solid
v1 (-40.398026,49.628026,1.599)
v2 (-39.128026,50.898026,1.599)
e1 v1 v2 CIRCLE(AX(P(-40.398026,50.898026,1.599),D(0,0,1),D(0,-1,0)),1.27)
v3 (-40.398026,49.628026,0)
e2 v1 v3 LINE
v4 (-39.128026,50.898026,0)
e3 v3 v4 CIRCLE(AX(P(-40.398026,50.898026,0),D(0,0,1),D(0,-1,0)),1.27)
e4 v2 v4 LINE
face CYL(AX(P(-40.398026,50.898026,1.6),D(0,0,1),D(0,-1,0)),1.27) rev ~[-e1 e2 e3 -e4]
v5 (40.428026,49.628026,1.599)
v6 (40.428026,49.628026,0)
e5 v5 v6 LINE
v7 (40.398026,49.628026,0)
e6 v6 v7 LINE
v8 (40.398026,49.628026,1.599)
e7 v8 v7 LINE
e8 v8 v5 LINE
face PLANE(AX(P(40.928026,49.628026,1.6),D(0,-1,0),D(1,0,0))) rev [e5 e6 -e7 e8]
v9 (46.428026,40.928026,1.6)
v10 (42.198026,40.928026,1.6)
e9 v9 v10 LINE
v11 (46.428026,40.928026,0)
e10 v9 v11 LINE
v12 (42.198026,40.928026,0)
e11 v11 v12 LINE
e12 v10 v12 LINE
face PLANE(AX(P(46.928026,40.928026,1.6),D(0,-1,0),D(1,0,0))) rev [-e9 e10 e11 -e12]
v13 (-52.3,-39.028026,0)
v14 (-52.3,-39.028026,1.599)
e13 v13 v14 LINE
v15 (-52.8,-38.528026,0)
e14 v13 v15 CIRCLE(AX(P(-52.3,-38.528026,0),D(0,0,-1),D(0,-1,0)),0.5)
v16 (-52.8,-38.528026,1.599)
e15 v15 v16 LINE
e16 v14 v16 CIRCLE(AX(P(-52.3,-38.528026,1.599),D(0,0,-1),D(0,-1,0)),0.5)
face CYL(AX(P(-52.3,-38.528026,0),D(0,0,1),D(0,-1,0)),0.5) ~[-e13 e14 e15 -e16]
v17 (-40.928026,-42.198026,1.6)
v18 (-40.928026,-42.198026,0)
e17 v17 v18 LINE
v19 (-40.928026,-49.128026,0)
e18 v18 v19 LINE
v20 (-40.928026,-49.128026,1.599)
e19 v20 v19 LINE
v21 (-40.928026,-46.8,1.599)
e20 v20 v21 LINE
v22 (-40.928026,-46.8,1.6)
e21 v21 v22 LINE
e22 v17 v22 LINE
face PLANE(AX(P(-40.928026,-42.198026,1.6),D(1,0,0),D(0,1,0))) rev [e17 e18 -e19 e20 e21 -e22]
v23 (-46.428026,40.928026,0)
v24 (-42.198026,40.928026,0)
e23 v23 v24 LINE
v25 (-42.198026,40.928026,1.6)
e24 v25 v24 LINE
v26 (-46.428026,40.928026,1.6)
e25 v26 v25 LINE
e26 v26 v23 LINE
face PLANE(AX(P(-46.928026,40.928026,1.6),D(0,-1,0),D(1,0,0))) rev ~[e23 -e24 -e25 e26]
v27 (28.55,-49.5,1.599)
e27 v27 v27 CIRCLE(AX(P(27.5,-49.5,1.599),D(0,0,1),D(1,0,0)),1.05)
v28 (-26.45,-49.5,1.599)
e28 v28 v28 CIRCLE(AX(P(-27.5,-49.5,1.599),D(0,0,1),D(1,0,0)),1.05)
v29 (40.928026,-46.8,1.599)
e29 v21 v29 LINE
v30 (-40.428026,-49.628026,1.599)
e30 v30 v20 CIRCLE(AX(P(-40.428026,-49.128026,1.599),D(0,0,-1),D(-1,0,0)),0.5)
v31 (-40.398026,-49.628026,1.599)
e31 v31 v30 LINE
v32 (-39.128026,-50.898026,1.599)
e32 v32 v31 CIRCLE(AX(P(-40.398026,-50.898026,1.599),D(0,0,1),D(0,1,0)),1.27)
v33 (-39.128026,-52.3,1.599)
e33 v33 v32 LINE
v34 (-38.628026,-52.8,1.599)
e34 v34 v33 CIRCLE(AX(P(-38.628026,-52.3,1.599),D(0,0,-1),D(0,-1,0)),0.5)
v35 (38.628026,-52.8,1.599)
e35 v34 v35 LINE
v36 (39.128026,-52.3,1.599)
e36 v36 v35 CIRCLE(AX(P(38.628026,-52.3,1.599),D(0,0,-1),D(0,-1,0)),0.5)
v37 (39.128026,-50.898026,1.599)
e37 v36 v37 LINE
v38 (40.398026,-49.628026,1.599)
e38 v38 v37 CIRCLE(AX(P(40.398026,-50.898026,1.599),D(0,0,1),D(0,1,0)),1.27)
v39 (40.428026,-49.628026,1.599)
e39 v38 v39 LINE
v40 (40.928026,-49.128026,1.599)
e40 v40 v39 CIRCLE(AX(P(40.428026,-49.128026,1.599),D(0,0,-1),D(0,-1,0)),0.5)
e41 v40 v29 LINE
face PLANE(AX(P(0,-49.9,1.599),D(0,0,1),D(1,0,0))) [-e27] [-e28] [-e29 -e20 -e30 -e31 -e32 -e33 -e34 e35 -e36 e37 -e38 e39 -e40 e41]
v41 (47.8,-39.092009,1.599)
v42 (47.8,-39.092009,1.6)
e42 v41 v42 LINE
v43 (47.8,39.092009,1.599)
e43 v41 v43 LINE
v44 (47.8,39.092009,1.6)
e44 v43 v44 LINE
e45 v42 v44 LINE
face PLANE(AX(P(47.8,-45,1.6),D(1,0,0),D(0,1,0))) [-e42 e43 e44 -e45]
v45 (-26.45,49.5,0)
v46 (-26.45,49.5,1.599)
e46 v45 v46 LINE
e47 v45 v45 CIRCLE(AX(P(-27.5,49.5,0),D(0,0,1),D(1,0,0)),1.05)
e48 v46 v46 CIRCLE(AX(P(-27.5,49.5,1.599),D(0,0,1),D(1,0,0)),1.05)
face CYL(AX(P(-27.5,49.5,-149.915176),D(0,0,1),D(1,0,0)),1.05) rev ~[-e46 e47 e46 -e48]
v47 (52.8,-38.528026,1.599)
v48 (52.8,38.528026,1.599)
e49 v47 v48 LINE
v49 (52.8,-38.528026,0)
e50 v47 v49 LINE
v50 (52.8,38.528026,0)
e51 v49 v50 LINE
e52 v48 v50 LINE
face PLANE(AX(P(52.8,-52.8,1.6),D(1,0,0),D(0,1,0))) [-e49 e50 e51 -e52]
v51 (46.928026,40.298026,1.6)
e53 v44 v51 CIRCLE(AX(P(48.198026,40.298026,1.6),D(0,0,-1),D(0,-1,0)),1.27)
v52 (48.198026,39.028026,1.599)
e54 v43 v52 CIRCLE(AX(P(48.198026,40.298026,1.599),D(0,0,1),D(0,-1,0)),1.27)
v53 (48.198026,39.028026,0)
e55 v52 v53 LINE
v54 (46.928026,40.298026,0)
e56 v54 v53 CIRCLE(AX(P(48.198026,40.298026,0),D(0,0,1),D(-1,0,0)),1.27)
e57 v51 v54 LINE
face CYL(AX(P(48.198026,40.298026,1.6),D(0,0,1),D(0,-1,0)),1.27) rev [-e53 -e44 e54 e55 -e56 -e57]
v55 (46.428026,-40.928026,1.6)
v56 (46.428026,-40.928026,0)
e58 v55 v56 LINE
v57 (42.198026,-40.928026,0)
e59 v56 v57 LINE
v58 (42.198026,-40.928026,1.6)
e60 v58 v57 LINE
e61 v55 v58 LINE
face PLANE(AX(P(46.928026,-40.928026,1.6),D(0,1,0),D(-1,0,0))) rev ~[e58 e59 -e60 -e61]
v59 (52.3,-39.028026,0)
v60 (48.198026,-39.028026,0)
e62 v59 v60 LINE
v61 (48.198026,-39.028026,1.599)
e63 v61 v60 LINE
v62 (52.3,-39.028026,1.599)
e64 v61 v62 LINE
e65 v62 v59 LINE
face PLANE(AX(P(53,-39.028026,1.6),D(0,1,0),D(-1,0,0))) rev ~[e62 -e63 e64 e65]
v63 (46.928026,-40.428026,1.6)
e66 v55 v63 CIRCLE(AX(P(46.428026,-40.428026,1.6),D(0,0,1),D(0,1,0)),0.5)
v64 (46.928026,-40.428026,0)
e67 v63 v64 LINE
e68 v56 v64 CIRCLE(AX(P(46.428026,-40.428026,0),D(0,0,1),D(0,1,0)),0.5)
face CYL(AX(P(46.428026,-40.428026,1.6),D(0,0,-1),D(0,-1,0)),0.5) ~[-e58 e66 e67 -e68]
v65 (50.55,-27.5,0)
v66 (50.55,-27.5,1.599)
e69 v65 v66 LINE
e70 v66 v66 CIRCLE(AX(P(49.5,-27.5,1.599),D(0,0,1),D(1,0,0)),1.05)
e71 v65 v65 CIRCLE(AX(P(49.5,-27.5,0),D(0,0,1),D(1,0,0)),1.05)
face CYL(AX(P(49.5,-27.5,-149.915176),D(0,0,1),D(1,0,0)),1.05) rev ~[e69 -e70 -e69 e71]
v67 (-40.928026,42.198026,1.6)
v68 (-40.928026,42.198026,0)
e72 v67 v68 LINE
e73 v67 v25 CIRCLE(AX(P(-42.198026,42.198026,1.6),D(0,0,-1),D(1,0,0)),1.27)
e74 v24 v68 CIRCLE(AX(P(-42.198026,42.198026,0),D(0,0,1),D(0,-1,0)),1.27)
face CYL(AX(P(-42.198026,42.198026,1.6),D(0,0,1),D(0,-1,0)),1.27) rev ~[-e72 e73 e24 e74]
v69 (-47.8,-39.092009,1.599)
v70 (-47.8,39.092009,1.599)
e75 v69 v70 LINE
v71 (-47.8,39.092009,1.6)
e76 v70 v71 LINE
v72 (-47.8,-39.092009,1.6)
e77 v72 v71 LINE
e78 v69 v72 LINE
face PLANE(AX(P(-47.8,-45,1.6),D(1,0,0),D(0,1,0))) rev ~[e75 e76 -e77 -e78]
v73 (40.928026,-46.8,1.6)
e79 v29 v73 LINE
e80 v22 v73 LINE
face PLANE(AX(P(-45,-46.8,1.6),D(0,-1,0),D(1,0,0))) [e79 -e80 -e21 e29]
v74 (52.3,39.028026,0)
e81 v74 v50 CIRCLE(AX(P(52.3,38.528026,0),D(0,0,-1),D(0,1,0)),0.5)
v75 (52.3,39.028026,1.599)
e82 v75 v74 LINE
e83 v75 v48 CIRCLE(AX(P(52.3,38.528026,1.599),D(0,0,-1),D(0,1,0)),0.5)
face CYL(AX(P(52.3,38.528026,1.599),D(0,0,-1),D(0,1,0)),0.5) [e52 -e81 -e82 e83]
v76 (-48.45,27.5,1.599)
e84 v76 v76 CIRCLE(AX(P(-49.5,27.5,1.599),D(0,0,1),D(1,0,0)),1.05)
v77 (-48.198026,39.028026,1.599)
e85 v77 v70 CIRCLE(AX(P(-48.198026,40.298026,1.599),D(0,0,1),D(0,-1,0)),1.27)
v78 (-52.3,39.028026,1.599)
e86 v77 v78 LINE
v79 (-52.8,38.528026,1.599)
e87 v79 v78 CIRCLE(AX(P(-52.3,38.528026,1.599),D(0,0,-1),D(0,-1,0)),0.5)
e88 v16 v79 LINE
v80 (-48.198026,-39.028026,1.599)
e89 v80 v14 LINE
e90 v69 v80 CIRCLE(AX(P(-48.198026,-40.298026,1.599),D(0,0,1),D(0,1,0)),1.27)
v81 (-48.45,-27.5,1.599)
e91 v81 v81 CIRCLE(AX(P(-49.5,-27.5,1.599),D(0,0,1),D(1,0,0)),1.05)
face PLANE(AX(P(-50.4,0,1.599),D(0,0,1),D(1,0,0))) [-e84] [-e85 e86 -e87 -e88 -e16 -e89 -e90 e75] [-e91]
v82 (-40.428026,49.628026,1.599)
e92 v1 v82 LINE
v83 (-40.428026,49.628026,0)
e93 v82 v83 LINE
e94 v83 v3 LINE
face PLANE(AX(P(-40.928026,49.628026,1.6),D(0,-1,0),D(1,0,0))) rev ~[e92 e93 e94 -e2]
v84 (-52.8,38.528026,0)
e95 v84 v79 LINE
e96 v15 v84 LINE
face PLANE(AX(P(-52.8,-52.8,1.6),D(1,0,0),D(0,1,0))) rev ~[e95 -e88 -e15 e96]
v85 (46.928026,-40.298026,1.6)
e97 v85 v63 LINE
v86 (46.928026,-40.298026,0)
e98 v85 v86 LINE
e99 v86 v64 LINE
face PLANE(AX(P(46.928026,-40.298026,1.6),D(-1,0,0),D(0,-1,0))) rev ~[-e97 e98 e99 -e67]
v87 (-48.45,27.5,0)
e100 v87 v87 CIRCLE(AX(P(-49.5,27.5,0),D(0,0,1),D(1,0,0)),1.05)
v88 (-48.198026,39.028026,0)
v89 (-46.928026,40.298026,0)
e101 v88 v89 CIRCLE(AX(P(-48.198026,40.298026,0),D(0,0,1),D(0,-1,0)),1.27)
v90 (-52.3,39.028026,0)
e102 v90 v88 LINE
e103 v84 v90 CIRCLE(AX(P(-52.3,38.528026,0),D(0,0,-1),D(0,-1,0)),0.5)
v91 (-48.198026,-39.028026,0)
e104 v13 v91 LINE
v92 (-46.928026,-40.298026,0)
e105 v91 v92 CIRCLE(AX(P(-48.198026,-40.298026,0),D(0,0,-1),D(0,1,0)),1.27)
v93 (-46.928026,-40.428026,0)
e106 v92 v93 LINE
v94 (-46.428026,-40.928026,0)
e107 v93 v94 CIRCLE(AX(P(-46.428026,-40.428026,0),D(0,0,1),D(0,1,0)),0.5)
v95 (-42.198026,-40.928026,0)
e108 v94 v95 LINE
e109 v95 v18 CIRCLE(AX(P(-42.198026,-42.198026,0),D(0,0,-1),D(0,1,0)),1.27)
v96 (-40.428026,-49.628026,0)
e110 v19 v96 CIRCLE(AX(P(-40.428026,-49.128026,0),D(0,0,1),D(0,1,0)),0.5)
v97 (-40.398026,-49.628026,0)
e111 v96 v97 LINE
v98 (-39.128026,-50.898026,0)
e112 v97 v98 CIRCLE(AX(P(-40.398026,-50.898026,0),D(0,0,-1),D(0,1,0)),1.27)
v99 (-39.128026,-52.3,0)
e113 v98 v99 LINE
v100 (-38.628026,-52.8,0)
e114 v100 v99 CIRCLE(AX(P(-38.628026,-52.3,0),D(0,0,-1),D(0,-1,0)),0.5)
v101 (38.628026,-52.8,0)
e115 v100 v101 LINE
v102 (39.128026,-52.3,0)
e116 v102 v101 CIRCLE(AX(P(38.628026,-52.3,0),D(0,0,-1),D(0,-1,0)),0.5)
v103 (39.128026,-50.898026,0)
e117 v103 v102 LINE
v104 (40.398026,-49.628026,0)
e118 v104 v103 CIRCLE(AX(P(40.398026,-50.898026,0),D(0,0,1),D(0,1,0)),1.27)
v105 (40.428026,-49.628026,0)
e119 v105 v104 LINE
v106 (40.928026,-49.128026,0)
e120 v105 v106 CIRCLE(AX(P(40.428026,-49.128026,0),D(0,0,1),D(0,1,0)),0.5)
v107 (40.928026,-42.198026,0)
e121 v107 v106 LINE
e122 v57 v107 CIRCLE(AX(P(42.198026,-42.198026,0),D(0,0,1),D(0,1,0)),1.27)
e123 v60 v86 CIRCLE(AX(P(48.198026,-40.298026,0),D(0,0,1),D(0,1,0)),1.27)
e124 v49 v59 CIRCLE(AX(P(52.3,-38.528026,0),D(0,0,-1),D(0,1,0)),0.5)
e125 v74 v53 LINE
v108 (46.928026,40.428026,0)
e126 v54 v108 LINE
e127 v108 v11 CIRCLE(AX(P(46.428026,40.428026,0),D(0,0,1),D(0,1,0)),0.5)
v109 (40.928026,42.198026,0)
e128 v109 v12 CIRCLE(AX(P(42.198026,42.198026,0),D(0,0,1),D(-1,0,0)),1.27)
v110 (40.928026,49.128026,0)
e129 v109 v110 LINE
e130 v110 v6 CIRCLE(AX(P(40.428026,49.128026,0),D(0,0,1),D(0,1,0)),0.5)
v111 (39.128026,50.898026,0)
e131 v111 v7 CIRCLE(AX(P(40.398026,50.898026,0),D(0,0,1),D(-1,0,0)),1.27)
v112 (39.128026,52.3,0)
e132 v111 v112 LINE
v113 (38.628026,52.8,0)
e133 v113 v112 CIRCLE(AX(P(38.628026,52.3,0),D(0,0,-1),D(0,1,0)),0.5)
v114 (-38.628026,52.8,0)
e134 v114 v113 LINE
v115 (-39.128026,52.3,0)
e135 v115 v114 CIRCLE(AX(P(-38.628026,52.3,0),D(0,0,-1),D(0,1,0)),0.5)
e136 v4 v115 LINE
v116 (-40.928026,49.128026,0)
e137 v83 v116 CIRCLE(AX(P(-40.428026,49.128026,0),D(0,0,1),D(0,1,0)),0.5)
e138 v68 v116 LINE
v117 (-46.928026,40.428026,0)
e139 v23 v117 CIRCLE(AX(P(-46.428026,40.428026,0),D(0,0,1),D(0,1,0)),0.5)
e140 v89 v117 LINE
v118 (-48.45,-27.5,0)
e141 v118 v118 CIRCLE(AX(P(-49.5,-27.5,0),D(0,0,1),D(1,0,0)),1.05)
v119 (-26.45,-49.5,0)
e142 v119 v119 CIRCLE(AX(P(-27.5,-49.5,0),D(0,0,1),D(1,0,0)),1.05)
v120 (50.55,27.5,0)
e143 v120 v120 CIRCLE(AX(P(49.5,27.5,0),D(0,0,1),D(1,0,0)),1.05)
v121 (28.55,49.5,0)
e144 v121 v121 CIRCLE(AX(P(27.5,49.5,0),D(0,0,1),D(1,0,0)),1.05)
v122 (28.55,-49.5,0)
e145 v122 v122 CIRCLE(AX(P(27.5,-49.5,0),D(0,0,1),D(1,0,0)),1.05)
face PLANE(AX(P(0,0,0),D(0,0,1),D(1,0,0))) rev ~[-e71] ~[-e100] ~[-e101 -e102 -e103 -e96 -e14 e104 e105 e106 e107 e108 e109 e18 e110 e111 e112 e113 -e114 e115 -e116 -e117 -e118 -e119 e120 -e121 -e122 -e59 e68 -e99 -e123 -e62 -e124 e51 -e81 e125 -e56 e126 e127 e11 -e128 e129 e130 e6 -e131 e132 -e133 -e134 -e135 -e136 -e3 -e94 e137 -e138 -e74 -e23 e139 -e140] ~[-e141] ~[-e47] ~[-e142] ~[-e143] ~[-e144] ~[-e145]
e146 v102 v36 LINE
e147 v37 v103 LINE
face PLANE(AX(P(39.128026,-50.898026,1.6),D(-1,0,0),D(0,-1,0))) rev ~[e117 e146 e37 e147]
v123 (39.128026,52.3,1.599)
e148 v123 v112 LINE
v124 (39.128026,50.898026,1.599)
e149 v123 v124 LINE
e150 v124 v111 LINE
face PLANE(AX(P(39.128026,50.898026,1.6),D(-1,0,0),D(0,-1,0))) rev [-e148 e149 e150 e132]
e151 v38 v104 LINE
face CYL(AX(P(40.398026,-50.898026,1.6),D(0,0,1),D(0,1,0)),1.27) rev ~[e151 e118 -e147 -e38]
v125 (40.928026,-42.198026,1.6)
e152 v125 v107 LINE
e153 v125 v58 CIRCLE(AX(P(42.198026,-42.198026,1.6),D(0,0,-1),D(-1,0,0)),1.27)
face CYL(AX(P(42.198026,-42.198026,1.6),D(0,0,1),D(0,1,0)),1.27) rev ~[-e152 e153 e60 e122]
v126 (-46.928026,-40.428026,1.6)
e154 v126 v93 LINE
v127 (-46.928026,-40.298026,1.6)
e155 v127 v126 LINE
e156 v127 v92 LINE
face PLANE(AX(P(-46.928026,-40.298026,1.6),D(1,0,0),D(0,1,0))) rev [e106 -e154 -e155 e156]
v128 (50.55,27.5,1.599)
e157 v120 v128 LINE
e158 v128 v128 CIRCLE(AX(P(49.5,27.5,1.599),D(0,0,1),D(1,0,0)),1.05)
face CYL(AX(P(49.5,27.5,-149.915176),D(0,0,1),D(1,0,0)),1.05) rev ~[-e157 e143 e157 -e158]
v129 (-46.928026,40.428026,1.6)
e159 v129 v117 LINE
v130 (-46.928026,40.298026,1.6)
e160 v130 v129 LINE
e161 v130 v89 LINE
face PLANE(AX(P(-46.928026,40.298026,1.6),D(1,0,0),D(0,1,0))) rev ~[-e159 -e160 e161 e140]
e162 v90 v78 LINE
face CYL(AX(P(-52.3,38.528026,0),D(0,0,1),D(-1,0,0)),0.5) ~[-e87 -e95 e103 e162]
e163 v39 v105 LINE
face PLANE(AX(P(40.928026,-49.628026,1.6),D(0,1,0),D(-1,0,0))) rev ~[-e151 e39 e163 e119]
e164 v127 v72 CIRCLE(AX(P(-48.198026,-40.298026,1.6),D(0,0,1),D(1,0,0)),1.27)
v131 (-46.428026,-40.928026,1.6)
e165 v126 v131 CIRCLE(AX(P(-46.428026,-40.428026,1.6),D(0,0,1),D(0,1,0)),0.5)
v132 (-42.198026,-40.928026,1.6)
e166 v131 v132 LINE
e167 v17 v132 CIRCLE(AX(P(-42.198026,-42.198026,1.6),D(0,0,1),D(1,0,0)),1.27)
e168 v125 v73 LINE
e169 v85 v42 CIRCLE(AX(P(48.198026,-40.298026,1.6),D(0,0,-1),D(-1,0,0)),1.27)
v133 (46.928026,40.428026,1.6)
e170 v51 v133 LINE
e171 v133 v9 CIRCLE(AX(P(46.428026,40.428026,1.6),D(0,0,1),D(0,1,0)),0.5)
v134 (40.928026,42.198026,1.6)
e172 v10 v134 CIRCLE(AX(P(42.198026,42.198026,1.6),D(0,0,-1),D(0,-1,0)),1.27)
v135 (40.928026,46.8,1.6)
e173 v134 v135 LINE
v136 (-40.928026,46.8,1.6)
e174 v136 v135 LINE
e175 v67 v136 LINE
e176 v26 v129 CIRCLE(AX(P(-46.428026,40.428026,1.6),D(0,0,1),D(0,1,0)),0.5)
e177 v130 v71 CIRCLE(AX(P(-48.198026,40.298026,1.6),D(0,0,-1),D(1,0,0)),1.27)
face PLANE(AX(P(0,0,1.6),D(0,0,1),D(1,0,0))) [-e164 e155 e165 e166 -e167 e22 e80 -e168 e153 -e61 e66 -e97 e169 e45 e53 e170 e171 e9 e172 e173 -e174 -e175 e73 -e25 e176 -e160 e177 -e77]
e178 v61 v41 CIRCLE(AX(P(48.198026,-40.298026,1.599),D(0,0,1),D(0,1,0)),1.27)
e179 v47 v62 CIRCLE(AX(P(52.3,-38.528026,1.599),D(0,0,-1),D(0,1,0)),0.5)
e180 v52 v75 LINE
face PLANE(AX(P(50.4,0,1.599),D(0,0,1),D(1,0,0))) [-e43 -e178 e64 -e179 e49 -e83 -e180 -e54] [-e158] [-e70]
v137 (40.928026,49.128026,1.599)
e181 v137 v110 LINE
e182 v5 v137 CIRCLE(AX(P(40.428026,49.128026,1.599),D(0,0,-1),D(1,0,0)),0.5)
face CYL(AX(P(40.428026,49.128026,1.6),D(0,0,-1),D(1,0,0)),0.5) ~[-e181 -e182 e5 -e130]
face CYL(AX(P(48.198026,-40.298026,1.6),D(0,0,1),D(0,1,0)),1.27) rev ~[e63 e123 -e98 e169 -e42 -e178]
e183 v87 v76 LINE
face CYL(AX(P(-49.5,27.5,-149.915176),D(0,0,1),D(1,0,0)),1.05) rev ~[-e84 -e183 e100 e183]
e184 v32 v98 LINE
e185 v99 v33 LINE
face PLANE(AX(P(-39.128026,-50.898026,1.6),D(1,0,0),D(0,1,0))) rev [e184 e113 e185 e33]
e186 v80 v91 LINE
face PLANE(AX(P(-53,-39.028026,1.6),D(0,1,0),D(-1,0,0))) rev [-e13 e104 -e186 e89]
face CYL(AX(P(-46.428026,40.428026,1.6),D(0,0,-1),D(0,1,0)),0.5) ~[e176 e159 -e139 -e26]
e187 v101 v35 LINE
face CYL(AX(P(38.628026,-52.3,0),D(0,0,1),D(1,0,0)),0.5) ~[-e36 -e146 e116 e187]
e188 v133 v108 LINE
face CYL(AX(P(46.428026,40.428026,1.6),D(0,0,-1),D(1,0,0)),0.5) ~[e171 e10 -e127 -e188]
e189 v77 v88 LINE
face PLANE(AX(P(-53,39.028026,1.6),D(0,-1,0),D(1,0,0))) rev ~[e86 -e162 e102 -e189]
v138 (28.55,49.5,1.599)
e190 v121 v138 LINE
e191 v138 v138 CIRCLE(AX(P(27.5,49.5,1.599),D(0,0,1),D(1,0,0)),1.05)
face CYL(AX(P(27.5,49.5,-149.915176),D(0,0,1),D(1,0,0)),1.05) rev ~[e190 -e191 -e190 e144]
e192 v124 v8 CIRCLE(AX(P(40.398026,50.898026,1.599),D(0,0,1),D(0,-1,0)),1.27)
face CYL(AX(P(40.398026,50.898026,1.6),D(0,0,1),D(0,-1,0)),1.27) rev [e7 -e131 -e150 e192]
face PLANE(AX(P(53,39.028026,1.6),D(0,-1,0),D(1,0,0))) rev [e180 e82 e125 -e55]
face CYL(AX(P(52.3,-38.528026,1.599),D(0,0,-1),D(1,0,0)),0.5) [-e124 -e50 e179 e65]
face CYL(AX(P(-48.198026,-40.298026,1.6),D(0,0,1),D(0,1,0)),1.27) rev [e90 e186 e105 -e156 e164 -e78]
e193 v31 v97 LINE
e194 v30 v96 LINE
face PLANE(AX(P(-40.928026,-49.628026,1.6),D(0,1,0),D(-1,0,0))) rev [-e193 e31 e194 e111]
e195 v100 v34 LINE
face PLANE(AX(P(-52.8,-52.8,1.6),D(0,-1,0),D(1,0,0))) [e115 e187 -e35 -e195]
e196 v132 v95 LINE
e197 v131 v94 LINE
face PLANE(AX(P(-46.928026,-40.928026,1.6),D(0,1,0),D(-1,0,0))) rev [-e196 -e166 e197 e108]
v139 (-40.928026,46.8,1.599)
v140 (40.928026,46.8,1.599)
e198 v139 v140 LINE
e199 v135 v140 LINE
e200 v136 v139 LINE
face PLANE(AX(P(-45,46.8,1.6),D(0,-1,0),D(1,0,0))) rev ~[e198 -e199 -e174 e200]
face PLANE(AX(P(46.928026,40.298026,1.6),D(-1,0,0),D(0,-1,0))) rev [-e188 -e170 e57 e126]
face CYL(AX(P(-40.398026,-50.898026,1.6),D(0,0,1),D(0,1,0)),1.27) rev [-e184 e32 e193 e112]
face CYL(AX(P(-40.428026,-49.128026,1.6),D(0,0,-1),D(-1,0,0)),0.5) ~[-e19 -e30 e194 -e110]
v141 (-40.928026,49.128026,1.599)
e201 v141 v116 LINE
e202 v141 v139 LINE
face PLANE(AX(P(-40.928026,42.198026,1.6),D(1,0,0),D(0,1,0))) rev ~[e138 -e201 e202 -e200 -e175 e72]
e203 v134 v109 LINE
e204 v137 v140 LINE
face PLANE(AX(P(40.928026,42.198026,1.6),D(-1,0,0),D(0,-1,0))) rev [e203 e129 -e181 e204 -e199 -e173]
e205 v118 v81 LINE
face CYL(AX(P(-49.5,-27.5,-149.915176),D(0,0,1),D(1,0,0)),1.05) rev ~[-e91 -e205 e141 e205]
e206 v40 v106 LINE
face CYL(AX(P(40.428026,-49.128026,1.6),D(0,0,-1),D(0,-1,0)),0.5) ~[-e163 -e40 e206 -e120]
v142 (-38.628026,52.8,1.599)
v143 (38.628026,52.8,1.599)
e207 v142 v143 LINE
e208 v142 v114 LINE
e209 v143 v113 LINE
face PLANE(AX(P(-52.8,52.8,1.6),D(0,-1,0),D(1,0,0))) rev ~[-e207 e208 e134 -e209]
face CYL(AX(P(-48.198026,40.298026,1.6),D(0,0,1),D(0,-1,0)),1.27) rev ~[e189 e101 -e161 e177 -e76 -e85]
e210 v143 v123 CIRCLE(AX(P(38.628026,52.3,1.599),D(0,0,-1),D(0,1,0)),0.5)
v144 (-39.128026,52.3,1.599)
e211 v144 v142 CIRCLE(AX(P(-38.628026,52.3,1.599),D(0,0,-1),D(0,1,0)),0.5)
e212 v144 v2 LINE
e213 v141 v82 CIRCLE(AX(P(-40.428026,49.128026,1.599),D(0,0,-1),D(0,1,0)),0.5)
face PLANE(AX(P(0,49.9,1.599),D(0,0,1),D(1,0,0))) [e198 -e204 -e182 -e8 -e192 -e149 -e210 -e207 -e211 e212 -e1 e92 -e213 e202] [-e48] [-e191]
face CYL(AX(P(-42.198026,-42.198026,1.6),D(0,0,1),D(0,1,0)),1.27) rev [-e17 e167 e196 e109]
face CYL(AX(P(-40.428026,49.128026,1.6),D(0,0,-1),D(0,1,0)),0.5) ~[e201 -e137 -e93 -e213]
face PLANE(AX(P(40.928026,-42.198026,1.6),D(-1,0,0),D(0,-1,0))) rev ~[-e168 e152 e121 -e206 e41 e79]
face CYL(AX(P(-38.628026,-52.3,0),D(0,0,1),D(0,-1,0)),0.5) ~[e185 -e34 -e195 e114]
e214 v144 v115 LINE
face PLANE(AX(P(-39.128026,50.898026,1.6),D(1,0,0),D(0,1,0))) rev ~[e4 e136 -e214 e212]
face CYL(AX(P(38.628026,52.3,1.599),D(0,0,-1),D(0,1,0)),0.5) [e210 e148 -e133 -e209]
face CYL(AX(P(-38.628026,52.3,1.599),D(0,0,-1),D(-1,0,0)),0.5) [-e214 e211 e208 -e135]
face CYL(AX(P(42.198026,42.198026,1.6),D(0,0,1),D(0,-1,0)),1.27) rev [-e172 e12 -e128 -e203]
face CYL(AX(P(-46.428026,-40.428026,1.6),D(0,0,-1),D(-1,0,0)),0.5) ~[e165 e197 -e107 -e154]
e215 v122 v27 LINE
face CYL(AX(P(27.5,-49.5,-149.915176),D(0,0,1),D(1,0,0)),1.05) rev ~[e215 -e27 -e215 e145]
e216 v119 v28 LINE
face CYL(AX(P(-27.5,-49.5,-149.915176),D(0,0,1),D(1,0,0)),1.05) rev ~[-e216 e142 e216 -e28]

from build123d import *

# Parameters (mm, degrees)
SKETCH1_W                 = 106
SKETCH1_H                 = 106
MAINOUTLINE_DEPTH         = 1.6
SKETCH4_W                 = 11.7
SKETCH4_H                 = 11.7
RAILCUTOUTS_DEPTH         = 2.6
FILLETCUTOUTS_START       = -2.6
SKETCH13_W                = 5.7
SKETCH13_H                = 1.9
SKETCH13_W_2              = 1.8
SKETCH13_H_2              = 3
FILLETCUTOUTS_DEPTH       = 3.6
SMOOTHCORNER_DEPTH        = 10
MIRROR2_COPY_1_SKETCH_W   = 11.7
MIRROR2_COPY_1_SKETCH_H   = 11.7
MIRROR2_COPY_1_DEPTH      = 2.6
MIRROR2_START             = -2.6
MIRROR2_COPY_2_SKETCH_W   = 5.7
MIRROR2_COPY_2_SKETCH_H   = 1.9
MIRROR2_COPY_2_SKETCH_W_2 = 1.8
MIRROR2_COPY_2_SKETCH_H_2 = 3
MIRROR2_COPY_2_DEPTH      = 3.6
MIRROR2_COPY_3_DEPTH      = 10
MIRROR2_COPY_4_SKETCH_W   = 11.7
MIRROR2_COPY_4_SKETCH_H   = 11.7
MIRROR2_COPY_4_DEPTH      = 2.6
MIRROR2_COPY_5_SKETCH_W   = 5.7
MIRROR2_COPY_5_SKETCH_H   = 1.9
MIRROR2_COPY_5_SKETCH_W_2 = 1.8
MIRROR2_COPY_5_SKETCH_H_2 = 3
MIRROR2_COPY_5_DEPTH      = 3.6
FILLET10_R                = 0.5
M2_CLEARANCE_HOLE1_D      = 2.1
SKETCH16_W                = 90
SKETCH16_H                = 6.2
SKETCH16_W_2              = 5.2
SKETCH16_H_2              = 90
CUT_EXTRUDE6_DEPTH        = 0.001
SKETCH24_OUTSIDE_W        = 137.984
SKETCH24_OUTSIDE_H        = 137.984
SKETCH24_OUTSIDE_W_2      = 105.6
SKETCH24_OUTSIDE_H_2      = 105.6
CUT_EXTRUDE19_DEPTH       = 2.6
FILLET7_R                 = 0.5


with BuildPart() as part:
    # Sketch1 → mainOutline (new body)
    with BuildSketch(Plane.XY):
        Rectangle(SKETCH1_W, SKETCH1_H)
    extrude(amount=MAINOUTLINE_DEPTH)

    # Sketch4 → railCutouts (cut, through all)
    with BuildSketch(Plane(origin=(0, 0, 0), x_dir=(-1, 0, 0), z_dir=(0, 0, -1))):
        with Locations((47.15, 47.15)):
            Rectangle(SKETCH4_W, SKETCH4_H)
    railcutouts = extrude(amount=-RAILCUTOUTS_DEPTH, mode=Mode.SUBTRACT)

    # Sketch13 → filletCutouts (cut)
    with BuildSketch(Plane(origin=(0, 0, 0), x_dir=(-1, 0, 0), z_dir=(0, 0, -1)).offset(FILLETCUTOUTS_START)):
        with Locations((50.15, 40.35)):
            Rectangle(SKETCH13_W, SKETCH13_H)
        with Locations((40.4, 51.5)):
            Rectangle(SKETCH13_W_2, SKETCH13_H_2)
    filletcutouts = extrude(amount=FILLETCUTOUTS_DEPTH, mode=Mode.SUBTRACT)

    # Sketch27 → smoothCorner (cut)
    with BuildSketch(Plane.XY.offset(1.6)):
        with BuildLine():
            Line((-40.928025612, 42.198025612), (-40.928025612, 49.628025612))
            Line((-40.928025612, 49.628025612), (-40.398025612, 49.628025612))
            ThreePointArc((-40.398025612, 49.628025612), (-39.5, 50), (-39.128025612, 50.898025612))
            Line((-39.128025612, 50.898025612), (-39.128025612, 53))
            Line((-39.128025612, 53), (-53, 53))
            Line((-53, 53), (-53, 39.028025612))
            Line((-53, 39.028025612), (-48.198025612, 39.028025612))
            ThreePointArc((-48.198025612, 39.028025612), (-47.3, 39.4), (-46.928025612, 40.298025612))
            Line((-46.928025612, 40.298025612), (-46.928025612, 40.928025612))
            Line((-46.928025612, 40.928025612), (-42.198025612, 40.928025612))
            ThreePointArc((-42.198025612, 40.928025612), (-41.3, 41.3), (-40.928025612, 42.198025612))
        make_face()
    smoothcorner = extrude(amount=-SMOOTHCORNER_DEPTH, mode=Mode.SUBTRACT)

    # Mirror1: railCutouts, filletCutouts, smoothCorner across plane
    add(railcutouts.mirror(Plane(origin=(0, 0, 0), x_dir=(0, 0, 1), z_dir=(1, 0, 0))), mode=Mode.SUBTRACT)
    add(filletcutouts.mirror(Plane(origin=(0, 0, 0), x_dir=(0, 0, 1), z_dir=(1, 0, 0))), mode=Mode.SUBTRACT)
    add(smoothcorner.mirror(Plane(origin=(0, 0, 0), x_dir=(0, 0, 1), z_dir=(1, 0, 0))), mode=Mode.SUBTRACT)

    # Mirror2: smoothCorner across plane
    add(smoothcorner.mirror(Plane.ZX), mode=Mode.SUBTRACT)

    # Mirror2 copy 1 sketch → Mirror2 copy 1 (cut, through all)
    with BuildSketch(Plane(origin=(0, 0, 0), x_dir=(1, 0, 0), z_dir=(0, 0, -1))):
        with Locations((47.15, 47.15)):
            Rectangle(MIRROR2_COPY_1_SKETCH_W, MIRROR2_COPY_1_SKETCH_H)
    extrude(amount=-MIRROR2_COPY_1_DEPTH, mode=Mode.SUBTRACT)

    # Mirror2 copy 2 sketch → Mirror2 copy 2 (cut)
    with BuildSketch(Plane(origin=(0, 0, 0), x_dir=(1, 0, 0), z_dir=(0, 0, -1)).offset(MIRROR2_START)):
        with Locations((50.15, 40.35)):
            Rectangle(MIRROR2_COPY_2_SKETCH_W, MIRROR2_COPY_2_SKETCH_H)
        with Locations((40.4, 51.5)):
            Rectangle(MIRROR2_COPY_2_SKETCH_W_2, MIRROR2_COPY_2_SKETCH_H_2)
    extrude(amount=MIRROR2_COPY_2_DEPTH, mode=Mode.SUBTRACT)

    # Mirror2 copy 3 sketch → Mirror2 copy 3 (cut)
    with BuildSketch(Plane(origin=(0, 0, 1.6), x_dir=(-1, 0, 0), z_dir=(0, 0, 1))):
        with BuildLine():
            Line((-40.928025612, 42.198025612), (-40.928025612, 49.628025612))
            Line((-40.928025612, 49.628025612), (-40.398025612, 49.628025612))
            ThreePointArc((-40.398025612, 49.628025612), (-39.5, 50), (-39.128025612, 50.898025612))
            Line((-39.128025612, 50.898025612), (-39.128025612, 53))
            Line((-39.128025612, 53), (-53, 53))
            Line((-53, 53), (-53, 39.028025612))
            Line((-53, 39.028025612), (-48.198025612, 39.028025612))
            ThreePointArc((-48.198025612, 39.028025612), (-47.3, 39.4), (-46.928025612, 40.298025612))
            Line((-46.928025612, 40.298025612), (-46.928025612, 40.928025612))
            Line((-46.928025612, 40.928025612), (-42.198025612, 40.928025612))
            ThreePointArc((-42.198025612, 40.928025612), (-41.3, 41.3), (-40.928025612, 42.198025612))
        make_face()
    extrude(amount=-MIRROR2_COPY_3_DEPTH, mode=Mode.SUBTRACT)

    # Mirror2 copy 4 sketch → Mirror2 copy 4 (cut, through all)
    with BuildSketch(Plane(origin=(0, 0, 0), x_dir=(-1, 0, 0), z_dir=(0, 0, -1))):
        with Locations((47.15, -47.15)):
            Rectangle(MIRROR2_COPY_4_SKETCH_W, MIRROR2_COPY_4_SKETCH_H)
    extrude(amount=-MIRROR2_COPY_4_DEPTH, mode=Mode.SUBTRACT)

    # Mirror2 copy 5 sketch → Mirror2 copy 5 (cut)
    with BuildSketch(Plane(origin=(0, 0, 0), x_dir=(-1, 0, 0), z_dir=(0, 0, -1)).offset(MIRROR2_START)):
        with Locations((50.15, -40.35)):
            Rectangle(MIRROR2_COPY_5_SKETCH_W, MIRROR2_COPY_5_SKETCH_H)
        with Locations((40.4, -51.5)):
            Rectangle(MIRROR2_COPY_5_SKETCH_W_2, MIRROR2_COPY_5_SKETCH_H_2)
    extrude(amount=MIRROR2_COPY_5_DEPTH, mode=Mode.SUBTRACT)

    # Fillet10
    fillet10_edges = [part.edges().sort_by_distance(p)[0] for p in [
        (40.928025612, 49.628025612, 0.8),
        (46.928025612, 40.928025612, 0.8),
        (46.928025612, -40.928025612, 0.8),
        (40.928025612, -49.628025612, 0.8),
        (-40.928025612, -49.628025612, 0.8),
        (-46.928025612, -40.928025612, 0.8),
        (-46.928025612, 40.928025612, 0.8),
        (-40.928025612, 49.628025612, 0.8),
    ]]
    fillet(fillet10_edges, radius=FILLET10_R)

    # M2 Clearance Hole1 (through all)
    with Locations(Plane(origin=(0, 0, 0), x_dir=(-1, 0, 0), z_dir=(0, 0, -1))):
        with Locations((49.5, -27.5), (27.5, -49.5), (-49.5, -27.5), (-27.5, -49.5), (-27.5, 49.5), (-49.5, 27.5), (27.5, 49.5), (49.5, 27.5)):
            Hole(M2_CLEARANCE_HOLE1_D / 2)

    # Sketch16 → Cut-Extrude6 (cut)
    with BuildSketch(Plane.XY.offset(1.6)):
        with Locations((0, -49.9)):
            Rectangle(SKETCH16_W, SKETCH16_H)
        with Locations((0, 49.9)):
            Rectangle(SKETCH16_W, SKETCH16_H)
        with Locations((-50.4, 0)):
            Rectangle(SKETCH16_W_2, SKETCH16_H_2)
        with Locations((50.4, 0)):
            Rectangle(SKETCH16_W_2, SKETCH16_H_2)
    extrude(amount=-CUT_EXTRUDE6_DEPTH, mode=Mode.SUBTRACT)

    # Sketch24 outside → Cut-Extrude19 (cut, through all)
    with BuildSketch(Plane.XY.offset(1.6)):
        Rectangle(SKETCH24_OUTSIDE_W, SKETCH24_OUTSIDE_H)
        Rectangle(SKETCH24_OUTSIDE_W_2, SKETCH24_OUTSIDE_H_2, mode=Mode.SUBTRACT)
    extrude(amount=-CUT_EXTRUDE19_DEPTH, mode=Mode.SUBTRACT)

    # Fillet7
    fillet7_edges = [part.edges().sort_by_distance(p)[0] for p in [
        (-52.8, -39.028025612, 0.7995),
        (-39.128025612, -52.8, 0.7995),
        (52.8, -39.028025612, 0.7995),
        (39.128025612, 52.8, 0.7995),
        (52.8, 39.028025612, 0.7995),
        (39.128025612, -52.8, 0.7995),
        (-52.8, 39.028025612, 0.7995),
        (-39.128025612, 52.8, 0.7995),
    ]]
    fillet(fillet7_edges, radius=FILLET7_R)


solid = part.part
